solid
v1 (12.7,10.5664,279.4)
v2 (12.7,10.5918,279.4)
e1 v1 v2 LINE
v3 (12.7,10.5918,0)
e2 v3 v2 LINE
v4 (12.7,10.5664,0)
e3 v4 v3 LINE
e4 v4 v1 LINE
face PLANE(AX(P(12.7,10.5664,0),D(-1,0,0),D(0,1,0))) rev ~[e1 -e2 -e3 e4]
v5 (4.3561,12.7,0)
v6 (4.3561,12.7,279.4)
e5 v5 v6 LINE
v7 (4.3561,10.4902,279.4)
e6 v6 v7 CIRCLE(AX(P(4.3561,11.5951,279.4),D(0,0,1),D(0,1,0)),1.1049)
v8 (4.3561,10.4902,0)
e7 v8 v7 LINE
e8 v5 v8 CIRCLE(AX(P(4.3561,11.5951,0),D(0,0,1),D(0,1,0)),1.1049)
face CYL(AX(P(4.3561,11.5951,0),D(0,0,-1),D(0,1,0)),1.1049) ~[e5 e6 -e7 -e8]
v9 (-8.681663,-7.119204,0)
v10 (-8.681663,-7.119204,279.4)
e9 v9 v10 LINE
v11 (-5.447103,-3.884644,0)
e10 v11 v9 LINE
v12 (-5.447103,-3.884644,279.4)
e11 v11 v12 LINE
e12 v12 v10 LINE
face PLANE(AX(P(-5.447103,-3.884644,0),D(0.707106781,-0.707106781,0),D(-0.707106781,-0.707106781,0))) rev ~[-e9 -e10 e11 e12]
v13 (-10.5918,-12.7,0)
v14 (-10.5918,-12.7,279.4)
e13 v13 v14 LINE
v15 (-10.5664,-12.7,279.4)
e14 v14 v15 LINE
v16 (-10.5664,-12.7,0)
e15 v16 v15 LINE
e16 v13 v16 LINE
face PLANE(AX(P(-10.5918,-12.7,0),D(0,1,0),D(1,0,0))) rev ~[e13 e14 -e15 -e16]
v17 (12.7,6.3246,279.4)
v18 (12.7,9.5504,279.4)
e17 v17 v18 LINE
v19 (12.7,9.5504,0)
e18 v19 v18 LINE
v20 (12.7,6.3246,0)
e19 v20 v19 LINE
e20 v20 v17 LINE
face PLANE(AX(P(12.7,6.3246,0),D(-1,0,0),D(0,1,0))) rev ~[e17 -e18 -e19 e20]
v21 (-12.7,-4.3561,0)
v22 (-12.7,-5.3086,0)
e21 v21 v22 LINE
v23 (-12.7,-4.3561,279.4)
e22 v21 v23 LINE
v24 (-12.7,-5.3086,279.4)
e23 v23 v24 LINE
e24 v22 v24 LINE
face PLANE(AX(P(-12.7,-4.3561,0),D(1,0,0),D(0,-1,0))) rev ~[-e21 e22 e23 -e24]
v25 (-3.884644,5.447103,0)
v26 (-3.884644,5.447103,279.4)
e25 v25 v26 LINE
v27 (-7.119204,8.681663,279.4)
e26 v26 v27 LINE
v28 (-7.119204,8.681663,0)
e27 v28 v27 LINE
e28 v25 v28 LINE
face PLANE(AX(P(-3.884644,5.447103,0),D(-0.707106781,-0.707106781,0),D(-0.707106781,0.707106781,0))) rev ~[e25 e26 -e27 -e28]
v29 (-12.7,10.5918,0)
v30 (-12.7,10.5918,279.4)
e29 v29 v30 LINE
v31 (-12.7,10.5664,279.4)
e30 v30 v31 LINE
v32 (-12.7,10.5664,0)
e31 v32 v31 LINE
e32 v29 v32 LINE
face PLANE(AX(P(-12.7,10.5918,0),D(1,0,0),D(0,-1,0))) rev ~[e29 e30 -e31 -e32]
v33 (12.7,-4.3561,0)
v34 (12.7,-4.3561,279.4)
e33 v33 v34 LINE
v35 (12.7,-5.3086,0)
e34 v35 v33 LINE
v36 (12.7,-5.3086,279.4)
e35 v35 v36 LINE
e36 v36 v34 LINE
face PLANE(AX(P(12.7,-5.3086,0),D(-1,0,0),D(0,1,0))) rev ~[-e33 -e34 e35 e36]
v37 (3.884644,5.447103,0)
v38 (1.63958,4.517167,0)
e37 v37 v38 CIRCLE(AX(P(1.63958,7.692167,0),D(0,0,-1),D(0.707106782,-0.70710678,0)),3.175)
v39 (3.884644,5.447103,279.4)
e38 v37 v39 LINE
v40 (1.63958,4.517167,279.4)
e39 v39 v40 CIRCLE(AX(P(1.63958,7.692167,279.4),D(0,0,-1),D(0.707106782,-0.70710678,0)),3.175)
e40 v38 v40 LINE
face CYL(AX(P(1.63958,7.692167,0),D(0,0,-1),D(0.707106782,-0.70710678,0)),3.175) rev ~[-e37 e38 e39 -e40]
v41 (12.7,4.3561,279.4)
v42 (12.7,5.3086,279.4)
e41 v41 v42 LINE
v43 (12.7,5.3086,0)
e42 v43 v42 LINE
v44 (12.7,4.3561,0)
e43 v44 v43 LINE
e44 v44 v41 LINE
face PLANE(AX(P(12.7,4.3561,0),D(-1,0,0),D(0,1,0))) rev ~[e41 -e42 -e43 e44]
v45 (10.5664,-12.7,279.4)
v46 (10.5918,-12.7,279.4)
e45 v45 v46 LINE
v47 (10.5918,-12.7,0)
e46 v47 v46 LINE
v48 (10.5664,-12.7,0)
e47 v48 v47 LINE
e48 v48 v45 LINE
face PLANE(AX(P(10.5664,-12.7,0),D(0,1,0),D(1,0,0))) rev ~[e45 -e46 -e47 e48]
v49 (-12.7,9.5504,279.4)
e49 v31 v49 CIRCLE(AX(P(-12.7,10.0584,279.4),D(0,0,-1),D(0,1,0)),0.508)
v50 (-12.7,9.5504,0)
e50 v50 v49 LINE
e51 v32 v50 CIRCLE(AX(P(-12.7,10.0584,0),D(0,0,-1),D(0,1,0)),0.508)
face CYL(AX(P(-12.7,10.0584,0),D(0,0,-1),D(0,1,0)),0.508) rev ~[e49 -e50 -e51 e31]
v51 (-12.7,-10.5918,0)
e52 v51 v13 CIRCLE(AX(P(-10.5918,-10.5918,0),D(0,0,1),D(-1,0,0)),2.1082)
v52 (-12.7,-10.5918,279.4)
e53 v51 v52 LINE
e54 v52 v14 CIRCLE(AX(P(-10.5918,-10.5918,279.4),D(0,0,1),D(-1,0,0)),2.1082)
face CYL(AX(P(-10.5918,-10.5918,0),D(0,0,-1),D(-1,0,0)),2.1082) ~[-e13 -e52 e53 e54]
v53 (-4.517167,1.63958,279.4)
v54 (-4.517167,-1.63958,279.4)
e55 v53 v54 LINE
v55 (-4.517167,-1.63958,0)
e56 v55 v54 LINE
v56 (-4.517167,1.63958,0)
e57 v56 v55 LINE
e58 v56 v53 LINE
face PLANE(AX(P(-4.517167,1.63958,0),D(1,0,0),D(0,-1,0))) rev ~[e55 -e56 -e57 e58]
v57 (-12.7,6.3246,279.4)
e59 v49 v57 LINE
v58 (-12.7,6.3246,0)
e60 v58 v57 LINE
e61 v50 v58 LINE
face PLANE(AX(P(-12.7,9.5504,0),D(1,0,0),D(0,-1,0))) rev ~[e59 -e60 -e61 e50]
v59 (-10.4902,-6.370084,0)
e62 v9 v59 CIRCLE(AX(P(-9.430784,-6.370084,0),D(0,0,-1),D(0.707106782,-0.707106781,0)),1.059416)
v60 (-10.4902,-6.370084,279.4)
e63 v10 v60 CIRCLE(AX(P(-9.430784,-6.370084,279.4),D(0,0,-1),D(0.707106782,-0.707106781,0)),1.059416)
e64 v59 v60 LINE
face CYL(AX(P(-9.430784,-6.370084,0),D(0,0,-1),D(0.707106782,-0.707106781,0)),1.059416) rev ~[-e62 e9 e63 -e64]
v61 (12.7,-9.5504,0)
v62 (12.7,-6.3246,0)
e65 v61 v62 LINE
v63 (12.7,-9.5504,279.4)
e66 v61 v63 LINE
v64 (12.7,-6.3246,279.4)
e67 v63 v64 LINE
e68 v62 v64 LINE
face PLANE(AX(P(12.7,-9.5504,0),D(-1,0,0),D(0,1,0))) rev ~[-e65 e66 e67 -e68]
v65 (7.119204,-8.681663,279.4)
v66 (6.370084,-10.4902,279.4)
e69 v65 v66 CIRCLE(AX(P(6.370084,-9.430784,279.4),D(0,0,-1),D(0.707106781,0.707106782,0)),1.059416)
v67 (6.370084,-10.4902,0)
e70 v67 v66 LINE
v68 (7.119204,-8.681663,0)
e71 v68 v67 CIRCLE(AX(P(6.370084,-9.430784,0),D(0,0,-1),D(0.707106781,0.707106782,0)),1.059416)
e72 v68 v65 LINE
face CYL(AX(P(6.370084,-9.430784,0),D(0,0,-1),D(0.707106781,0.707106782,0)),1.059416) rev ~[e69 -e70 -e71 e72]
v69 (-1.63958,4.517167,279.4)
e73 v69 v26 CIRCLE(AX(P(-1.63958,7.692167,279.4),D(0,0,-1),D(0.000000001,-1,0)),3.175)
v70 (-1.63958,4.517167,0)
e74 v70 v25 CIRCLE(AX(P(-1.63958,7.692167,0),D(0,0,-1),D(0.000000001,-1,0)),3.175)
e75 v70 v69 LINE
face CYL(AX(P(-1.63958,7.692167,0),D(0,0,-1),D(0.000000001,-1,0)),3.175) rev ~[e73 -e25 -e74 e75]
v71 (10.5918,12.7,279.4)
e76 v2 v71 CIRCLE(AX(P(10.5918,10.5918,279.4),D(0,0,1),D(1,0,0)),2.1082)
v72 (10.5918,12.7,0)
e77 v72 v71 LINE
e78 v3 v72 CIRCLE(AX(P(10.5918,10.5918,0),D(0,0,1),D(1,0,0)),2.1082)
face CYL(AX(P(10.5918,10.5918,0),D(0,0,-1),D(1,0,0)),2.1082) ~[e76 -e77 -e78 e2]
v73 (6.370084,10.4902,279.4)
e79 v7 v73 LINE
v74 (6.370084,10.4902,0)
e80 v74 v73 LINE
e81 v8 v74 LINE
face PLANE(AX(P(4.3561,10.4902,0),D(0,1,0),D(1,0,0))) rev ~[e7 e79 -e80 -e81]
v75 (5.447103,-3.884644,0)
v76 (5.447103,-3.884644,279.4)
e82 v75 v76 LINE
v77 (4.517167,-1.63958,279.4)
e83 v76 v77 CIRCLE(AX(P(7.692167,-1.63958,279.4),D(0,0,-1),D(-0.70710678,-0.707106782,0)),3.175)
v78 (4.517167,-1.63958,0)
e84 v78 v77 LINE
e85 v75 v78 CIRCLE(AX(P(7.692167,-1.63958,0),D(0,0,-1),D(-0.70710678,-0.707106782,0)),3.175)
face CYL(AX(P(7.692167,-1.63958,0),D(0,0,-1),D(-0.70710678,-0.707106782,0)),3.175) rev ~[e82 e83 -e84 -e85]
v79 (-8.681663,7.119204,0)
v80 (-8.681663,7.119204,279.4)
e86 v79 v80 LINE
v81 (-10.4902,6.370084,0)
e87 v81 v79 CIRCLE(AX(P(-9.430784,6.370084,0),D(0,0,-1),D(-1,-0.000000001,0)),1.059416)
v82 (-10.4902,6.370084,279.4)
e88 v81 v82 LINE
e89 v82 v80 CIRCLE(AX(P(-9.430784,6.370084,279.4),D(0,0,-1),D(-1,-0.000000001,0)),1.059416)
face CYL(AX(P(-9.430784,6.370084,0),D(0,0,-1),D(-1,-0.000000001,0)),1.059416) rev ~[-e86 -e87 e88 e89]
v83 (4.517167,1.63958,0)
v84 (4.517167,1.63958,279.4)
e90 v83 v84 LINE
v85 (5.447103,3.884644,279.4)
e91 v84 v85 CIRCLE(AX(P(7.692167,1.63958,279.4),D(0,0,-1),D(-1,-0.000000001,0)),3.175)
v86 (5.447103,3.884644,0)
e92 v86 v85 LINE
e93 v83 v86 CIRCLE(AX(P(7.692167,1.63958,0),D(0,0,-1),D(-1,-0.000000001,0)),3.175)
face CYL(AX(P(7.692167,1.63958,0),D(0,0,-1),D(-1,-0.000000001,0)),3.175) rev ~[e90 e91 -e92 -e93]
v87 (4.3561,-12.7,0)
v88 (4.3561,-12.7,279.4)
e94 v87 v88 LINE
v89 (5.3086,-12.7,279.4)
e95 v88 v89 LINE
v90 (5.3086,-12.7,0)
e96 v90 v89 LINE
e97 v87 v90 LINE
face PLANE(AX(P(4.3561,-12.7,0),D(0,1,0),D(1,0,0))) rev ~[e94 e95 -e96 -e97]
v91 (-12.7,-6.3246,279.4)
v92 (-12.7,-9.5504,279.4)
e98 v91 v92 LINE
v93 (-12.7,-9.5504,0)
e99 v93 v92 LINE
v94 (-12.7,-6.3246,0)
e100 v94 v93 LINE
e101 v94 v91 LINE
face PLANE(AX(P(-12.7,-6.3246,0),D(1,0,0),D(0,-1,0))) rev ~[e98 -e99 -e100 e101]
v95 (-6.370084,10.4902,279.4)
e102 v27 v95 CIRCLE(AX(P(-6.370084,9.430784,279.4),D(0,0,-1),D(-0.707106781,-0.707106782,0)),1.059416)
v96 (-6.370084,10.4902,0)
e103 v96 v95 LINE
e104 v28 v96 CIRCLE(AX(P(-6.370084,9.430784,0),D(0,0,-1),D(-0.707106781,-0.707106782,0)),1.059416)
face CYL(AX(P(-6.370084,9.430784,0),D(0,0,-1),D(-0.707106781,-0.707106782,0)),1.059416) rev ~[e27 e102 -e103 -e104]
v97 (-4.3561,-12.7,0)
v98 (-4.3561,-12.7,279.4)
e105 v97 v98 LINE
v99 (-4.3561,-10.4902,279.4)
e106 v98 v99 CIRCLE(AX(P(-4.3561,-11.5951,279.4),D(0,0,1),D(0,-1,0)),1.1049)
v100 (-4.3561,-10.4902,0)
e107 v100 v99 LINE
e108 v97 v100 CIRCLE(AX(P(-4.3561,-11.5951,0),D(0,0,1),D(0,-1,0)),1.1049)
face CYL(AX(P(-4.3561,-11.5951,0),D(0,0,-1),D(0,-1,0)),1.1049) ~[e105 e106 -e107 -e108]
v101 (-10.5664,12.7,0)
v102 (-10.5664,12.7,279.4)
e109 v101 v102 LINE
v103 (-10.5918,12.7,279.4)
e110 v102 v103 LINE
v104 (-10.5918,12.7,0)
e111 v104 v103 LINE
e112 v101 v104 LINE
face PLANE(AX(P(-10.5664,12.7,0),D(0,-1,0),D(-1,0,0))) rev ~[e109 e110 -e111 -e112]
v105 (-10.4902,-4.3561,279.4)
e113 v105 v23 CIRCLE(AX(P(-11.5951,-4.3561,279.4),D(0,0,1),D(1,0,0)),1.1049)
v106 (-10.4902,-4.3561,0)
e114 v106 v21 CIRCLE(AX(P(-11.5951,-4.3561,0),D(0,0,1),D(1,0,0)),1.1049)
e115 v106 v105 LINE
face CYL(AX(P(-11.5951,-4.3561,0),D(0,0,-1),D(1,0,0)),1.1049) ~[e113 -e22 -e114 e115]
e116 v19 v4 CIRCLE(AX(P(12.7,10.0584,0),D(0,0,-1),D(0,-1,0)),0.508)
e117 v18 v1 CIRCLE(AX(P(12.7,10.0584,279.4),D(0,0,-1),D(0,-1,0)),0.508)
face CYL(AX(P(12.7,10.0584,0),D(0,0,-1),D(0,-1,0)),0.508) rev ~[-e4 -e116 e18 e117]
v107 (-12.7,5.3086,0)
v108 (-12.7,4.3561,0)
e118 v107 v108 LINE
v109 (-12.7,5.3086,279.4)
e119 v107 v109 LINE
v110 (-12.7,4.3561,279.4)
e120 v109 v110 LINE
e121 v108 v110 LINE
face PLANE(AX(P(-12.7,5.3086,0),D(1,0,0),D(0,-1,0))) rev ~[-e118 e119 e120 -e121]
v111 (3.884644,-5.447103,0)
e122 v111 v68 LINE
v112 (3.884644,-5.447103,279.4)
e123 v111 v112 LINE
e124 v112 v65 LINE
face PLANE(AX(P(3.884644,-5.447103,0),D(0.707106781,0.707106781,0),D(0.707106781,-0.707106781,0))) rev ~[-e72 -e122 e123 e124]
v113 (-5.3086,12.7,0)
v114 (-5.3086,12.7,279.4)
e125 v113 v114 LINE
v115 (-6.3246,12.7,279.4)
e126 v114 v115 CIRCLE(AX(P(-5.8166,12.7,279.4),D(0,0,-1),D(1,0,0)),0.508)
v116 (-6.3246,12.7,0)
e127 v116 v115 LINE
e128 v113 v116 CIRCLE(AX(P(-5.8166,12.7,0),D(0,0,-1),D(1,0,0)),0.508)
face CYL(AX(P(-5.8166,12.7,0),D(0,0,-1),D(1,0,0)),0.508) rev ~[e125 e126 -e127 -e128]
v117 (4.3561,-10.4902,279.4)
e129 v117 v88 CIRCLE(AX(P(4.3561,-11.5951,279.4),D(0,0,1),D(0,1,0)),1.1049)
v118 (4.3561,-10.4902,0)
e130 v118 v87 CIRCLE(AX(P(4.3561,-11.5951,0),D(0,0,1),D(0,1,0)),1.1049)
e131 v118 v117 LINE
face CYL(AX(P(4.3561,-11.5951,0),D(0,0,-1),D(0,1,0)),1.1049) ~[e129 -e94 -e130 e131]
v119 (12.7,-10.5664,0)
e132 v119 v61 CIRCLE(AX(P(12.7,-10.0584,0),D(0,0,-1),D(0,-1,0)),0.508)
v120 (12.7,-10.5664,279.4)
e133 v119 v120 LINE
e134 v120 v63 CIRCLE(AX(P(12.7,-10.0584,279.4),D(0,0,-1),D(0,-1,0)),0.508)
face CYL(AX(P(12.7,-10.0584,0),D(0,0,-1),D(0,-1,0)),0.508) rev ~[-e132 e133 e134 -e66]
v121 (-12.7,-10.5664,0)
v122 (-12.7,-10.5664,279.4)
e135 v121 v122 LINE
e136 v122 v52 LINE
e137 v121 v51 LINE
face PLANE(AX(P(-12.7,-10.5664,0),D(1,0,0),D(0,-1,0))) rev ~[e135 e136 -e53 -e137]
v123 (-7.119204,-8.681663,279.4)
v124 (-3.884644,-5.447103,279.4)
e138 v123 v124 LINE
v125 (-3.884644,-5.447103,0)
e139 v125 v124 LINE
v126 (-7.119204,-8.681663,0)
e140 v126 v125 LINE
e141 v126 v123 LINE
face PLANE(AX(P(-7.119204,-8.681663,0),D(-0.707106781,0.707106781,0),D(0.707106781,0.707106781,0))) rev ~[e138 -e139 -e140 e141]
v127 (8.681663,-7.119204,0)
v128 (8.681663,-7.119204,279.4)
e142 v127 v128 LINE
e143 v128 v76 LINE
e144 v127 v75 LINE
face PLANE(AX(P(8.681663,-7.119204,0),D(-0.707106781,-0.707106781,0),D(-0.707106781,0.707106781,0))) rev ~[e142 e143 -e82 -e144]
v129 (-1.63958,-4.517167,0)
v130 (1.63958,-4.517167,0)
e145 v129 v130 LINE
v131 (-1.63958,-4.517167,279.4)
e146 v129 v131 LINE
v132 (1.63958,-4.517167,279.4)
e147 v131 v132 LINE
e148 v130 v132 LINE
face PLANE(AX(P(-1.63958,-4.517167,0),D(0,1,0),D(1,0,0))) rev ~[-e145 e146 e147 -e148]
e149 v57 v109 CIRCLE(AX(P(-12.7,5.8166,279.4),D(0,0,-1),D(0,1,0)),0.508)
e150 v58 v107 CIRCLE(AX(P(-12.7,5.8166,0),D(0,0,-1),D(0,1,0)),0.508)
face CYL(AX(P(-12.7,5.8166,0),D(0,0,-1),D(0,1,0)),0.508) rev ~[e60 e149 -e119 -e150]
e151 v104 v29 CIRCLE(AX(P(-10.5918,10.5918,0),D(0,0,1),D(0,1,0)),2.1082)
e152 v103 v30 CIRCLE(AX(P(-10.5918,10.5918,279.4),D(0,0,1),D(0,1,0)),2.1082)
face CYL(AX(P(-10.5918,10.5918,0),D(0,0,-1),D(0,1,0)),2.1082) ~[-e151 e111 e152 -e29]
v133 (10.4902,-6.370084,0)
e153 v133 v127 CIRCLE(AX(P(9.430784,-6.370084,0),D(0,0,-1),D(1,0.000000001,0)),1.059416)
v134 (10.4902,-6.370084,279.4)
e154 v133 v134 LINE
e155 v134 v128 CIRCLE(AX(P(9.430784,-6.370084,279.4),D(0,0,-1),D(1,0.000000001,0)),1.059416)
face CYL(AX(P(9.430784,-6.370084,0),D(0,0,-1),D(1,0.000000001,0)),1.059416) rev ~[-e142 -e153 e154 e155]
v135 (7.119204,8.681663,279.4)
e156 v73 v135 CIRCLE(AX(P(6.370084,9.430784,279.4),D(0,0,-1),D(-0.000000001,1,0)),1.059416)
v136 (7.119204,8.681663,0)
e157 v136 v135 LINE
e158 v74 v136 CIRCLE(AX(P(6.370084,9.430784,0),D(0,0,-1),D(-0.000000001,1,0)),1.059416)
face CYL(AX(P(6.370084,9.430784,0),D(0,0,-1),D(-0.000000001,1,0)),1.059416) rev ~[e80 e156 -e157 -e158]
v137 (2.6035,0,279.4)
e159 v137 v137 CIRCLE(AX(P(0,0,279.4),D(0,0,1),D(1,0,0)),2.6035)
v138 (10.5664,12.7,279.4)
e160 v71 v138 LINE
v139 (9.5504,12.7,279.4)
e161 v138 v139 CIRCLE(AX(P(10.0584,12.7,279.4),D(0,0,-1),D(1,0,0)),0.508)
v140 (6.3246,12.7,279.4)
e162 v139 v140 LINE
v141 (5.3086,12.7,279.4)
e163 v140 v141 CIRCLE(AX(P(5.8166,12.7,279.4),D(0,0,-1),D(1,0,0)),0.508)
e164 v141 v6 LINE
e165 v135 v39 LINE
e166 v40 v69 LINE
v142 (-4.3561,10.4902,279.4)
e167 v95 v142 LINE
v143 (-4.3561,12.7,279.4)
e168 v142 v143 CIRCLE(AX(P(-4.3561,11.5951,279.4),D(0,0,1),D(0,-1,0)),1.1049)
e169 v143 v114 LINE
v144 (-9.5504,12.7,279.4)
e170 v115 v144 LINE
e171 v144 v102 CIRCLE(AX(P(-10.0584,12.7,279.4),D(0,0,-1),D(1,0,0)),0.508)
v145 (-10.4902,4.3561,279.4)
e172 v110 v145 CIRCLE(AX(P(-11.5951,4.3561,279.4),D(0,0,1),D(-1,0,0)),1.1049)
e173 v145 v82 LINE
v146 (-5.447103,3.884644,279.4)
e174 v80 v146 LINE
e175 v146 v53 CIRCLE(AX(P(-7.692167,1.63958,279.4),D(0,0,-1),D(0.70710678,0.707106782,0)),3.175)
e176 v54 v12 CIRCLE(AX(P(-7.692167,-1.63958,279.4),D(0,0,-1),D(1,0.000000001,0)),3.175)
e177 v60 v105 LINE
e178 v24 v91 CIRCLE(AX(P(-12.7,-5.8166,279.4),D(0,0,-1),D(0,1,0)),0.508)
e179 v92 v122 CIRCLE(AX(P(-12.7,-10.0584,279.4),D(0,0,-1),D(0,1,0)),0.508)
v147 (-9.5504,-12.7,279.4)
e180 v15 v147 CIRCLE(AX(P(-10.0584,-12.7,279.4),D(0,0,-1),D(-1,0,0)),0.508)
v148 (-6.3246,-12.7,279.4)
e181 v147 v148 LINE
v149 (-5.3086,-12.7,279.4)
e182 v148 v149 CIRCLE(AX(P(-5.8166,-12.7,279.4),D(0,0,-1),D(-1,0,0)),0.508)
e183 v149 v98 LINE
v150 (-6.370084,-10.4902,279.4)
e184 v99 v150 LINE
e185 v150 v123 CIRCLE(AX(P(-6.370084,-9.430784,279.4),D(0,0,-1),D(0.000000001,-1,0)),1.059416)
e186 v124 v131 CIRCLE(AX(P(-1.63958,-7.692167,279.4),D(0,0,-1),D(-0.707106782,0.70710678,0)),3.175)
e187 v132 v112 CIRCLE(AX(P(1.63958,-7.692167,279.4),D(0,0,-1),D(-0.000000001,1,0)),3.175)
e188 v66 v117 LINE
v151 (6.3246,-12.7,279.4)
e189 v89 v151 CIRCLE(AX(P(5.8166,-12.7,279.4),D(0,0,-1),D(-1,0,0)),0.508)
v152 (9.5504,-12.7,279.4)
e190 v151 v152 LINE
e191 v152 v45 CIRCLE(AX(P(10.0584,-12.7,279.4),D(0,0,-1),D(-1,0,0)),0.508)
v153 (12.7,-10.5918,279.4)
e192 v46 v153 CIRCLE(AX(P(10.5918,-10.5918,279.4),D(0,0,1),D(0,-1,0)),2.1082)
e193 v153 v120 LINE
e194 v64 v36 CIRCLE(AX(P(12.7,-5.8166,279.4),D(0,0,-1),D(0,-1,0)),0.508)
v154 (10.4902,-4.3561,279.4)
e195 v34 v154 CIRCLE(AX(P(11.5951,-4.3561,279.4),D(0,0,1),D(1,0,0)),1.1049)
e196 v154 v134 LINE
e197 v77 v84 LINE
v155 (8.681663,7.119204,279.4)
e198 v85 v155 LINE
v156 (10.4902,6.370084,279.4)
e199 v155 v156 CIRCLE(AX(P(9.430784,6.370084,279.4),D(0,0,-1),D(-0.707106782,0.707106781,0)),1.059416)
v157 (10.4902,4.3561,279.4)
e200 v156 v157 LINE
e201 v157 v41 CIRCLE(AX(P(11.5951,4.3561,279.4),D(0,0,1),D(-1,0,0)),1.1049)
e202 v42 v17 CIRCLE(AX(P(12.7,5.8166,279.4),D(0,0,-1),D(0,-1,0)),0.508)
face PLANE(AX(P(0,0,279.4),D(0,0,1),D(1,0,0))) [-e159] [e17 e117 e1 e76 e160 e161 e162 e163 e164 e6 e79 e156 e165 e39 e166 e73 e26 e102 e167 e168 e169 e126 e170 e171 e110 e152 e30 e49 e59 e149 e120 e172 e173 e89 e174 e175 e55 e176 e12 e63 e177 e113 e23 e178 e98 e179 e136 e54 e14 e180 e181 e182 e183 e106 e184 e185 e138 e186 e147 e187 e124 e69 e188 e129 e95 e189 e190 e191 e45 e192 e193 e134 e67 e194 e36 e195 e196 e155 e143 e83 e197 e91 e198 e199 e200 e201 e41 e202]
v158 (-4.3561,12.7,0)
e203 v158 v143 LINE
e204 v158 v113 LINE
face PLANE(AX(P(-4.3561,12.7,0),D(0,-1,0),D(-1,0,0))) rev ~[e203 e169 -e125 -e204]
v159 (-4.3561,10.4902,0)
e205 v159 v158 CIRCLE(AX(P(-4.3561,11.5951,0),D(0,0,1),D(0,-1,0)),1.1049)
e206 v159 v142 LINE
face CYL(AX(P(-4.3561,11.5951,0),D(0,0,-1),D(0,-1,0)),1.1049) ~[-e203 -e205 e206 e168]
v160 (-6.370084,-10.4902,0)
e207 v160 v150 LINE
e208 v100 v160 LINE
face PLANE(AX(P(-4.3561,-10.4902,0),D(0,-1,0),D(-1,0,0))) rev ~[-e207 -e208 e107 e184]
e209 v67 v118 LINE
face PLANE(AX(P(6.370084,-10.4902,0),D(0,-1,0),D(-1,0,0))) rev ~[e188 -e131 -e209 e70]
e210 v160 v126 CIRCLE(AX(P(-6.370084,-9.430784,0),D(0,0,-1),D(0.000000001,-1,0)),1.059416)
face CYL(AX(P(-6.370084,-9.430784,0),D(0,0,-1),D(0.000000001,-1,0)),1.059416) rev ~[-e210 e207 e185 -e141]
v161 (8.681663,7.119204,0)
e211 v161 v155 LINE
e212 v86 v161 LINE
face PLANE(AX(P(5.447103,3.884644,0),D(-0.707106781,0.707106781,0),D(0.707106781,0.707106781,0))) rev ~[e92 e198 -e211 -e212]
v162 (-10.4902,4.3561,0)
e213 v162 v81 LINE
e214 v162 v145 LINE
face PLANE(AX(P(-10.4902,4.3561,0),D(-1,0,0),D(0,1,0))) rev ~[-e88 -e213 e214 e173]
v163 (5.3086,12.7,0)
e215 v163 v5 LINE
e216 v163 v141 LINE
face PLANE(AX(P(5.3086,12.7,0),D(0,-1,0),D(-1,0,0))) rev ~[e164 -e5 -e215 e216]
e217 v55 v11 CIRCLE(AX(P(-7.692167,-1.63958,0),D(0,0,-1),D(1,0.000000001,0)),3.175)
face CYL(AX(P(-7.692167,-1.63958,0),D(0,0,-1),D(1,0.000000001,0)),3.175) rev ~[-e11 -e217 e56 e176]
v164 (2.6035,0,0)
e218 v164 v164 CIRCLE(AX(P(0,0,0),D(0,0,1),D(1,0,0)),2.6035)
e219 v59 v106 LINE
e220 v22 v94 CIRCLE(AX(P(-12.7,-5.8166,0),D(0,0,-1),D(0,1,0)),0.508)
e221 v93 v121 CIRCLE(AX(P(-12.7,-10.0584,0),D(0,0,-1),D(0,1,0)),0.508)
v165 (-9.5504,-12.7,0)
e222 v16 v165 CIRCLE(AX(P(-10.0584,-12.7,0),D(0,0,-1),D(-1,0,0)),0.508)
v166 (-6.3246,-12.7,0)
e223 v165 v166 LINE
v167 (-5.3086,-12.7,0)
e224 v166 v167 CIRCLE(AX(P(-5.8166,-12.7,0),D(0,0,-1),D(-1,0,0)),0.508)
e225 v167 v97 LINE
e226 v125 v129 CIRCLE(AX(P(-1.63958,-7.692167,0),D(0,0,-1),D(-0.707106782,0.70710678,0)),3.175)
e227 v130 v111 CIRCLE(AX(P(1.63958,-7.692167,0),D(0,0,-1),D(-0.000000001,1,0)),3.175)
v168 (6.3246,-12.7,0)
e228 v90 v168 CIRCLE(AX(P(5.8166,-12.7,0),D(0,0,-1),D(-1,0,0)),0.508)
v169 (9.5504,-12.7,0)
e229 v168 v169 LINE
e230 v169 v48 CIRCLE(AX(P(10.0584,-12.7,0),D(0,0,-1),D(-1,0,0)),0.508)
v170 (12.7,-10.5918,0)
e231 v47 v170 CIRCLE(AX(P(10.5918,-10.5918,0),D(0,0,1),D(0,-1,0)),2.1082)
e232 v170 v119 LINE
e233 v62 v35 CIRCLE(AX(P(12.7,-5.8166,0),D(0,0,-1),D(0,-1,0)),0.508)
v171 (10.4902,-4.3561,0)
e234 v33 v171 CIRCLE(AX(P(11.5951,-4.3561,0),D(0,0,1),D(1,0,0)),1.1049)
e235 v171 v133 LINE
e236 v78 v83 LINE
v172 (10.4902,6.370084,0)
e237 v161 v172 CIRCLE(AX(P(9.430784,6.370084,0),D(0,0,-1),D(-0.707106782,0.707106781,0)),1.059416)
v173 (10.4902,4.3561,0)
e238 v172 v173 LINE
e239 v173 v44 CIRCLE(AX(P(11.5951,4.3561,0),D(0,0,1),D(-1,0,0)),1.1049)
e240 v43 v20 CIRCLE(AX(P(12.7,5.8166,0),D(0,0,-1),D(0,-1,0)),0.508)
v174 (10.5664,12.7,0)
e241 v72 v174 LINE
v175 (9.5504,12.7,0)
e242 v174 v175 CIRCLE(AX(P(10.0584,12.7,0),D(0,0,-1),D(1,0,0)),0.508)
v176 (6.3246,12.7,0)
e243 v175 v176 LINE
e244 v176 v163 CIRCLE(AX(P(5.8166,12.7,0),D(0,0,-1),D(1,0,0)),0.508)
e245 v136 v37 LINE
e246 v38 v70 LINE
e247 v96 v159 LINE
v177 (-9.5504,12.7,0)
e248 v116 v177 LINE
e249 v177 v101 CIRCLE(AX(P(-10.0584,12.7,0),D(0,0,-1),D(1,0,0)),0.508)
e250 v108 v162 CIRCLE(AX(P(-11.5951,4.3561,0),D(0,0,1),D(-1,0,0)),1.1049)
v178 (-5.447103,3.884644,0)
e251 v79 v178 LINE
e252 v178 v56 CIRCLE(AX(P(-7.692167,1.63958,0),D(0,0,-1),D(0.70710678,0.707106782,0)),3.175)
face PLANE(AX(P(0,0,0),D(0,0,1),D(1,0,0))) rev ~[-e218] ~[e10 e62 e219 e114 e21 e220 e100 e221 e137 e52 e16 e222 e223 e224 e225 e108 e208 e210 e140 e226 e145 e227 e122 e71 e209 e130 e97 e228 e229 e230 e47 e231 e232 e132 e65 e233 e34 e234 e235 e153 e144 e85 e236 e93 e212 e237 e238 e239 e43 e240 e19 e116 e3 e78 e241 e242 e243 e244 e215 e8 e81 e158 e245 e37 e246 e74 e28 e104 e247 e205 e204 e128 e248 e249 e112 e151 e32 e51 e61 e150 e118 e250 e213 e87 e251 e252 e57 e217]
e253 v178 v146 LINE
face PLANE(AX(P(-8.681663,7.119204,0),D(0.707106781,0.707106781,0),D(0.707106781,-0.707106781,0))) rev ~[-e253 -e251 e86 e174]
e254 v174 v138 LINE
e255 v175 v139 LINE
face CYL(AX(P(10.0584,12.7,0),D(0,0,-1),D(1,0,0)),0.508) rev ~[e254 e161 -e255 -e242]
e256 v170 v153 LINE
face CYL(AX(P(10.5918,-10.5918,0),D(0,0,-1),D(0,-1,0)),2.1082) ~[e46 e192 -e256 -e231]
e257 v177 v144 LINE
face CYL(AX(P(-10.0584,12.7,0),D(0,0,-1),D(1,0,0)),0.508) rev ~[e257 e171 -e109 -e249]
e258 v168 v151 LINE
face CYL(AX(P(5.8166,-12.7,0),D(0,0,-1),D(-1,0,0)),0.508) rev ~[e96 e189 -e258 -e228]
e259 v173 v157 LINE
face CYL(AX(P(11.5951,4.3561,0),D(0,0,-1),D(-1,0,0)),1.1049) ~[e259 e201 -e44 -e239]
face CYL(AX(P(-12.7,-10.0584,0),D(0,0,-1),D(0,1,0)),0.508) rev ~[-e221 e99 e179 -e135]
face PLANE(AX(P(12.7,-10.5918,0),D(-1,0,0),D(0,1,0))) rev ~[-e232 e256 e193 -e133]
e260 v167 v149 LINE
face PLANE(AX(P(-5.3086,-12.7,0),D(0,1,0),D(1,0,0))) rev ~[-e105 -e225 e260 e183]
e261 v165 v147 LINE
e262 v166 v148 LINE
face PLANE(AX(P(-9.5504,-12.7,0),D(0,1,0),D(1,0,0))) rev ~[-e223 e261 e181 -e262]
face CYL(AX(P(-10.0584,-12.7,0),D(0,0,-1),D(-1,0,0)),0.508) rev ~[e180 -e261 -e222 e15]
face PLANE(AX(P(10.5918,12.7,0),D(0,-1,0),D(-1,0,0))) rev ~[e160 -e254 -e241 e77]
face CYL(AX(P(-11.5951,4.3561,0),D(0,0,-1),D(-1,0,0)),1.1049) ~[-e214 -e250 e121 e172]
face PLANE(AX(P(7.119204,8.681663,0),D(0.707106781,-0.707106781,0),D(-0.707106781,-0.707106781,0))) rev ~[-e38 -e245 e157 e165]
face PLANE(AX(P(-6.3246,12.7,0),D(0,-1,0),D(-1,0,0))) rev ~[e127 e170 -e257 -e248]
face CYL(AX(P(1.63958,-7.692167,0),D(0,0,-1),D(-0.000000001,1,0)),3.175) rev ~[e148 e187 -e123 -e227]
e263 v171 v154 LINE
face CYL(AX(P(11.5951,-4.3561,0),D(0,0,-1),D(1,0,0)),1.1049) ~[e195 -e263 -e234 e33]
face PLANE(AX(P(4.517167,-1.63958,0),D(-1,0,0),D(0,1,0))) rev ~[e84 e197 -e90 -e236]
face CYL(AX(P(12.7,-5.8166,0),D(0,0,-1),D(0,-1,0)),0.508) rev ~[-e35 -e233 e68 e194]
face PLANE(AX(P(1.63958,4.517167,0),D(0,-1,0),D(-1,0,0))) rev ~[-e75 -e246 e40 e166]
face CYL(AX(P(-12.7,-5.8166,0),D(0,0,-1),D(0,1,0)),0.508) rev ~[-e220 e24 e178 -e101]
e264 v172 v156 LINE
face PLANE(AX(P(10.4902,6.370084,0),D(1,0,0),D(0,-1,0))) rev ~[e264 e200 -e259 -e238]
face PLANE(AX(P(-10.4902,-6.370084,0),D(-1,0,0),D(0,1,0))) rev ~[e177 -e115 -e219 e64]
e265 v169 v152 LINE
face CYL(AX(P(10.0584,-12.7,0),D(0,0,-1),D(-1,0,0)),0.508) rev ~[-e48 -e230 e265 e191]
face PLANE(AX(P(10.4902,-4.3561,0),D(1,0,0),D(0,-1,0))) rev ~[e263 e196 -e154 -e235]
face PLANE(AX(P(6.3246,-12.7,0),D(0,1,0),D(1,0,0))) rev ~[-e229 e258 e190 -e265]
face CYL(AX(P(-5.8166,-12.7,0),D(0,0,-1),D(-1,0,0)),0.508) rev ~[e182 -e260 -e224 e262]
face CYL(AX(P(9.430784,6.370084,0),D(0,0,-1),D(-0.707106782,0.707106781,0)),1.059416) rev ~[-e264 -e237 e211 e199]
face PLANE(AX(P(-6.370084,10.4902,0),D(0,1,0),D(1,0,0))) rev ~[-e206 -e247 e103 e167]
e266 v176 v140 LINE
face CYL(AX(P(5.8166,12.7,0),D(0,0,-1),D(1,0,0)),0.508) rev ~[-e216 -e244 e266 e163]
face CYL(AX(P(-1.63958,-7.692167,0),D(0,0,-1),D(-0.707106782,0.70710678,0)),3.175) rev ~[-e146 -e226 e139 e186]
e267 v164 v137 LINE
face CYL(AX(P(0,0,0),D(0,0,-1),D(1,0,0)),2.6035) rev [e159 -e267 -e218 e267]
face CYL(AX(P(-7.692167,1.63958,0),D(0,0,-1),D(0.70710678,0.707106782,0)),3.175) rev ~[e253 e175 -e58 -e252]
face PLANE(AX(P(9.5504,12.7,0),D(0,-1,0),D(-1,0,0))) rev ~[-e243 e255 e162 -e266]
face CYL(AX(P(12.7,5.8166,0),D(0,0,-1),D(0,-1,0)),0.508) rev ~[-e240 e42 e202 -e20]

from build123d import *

# Parameters (mm, degrees)
SKETCH1_R           = 2.6035
BOSS_EXTRUDE1_DEPTH = 279.4


with BuildPart() as part:
    # Sketch1 → Boss-Extrude1 (new body)
    with BuildSketch(Plane.XY):
        with BuildLine():
            Line((10.5918, 12.7), (10.5664, 12.7))
            ThreePointArc((10.5664, 12.7), (10.0584, 12.192), (9.5504, 12.7))
            Line((9.5504, 12.7), (6.3246, 12.7))
            ThreePointArc((6.3246, 12.7), (5.8166, 12.192), (5.3086, 12.7))
            Line((5.3086, 12.7), (4.3561, 12.7))
            ThreePointArc((4.3561, 12.7), (3.2512, 11.5951), (4.3561, 10.4902))
            Line((4.3561, 10.4902), (6.370083786, 10.4902))
            ThreePointArc((6.370083786, 10.4902), (7.348856743, 9.836204819), (7.119204175, 8.681663397))
            Line((7.119204175, 8.681663397), (3.88464389, 5.447103113))
            ThreePointArc((3.88464389, 5.447103113), (2.854599758, 4.758849627), (1.63957986, 4.517167143))
            Line((1.63957986, 4.517167143), (-1.63957986, 4.517167143))
            ThreePointArc((-1.63957986, 4.517167143), (-2.854599758, 4.758849627), (-3.88464389, 5.447103113))
            Line((-3.88464389, 5.447103113), (-7.119204175, 8.681663397))
            ThreePointArc((-7.119204175, 8.681663397), (-7.348856743, 9.836204819), (-6.370083786, 10.4902))
            Line((-6.370083786, 10.4902), (-4.3561, 10.4902))
            ThreePointArc((-4.3561, 10.4902), (-3.2512, 11.5951), (-4.3561, 12.7))
            Line((-4.3561, 12.7), (-5.3086, 12.7))
            ThreePointArc((-5.3086, 12.7), (-5.8166, 12.192), (-6.3246, 12.7))
            Line((-6.3246, 12.7), (-9.5504, 12.7))
            ThreePointArc((-9.5504, 12.7), (-10.0584, 12.192), (-10.5664, 12.7))
            Line((-10.5664, 12.7), (-10.5918, 12.7))
            ThreePointArc((-10.5918, 12.7), (-12.082522516, 12.082522516), (-12.7, 10.5918))
            Line((-12.7, 10.5918), (-12.7, 10.5664))
            ThreePointArc((-12.7, 10.5664), (-12.192, 10.0584), (-12.7, 9.5504))
            Line((-12.7, 9.5504), (-12.7, 6.3246))
            ThreePointArc((-12.7, 6.3246), (-12.192, 5.8166), (-12.7, 5.3086))
            Line((-12.7, 5.3086), (-12.7, 4.3561))
            ThreePointArc((-12.7, 4.3561), (-11.5951, 3.2512), (-10.4902, 4.3561))
            Line((-10.4902, 4.3561), (-10.4902, 6.370083786))
            ThreePointArc((-10.4902, 6.370083786), (-9.836204819, 7.348856743), (-8.681663397, 7.119204175))
            Line((-8.681663397, 7.119204175), (-5.447103113, 3.88464389))
            ThreePointArc((-5.447103113, 3.88464389), (-4.758849627, 2.854599758), (-4.517167143, 1.63957986))
            Line((-4.517167143, 1.63957986), (-4.517167143, -1.63957986))
            ThreePointArc((-4.517167143, -1.63957986), (-4.758849627, -2.854599758), (-5.447103113, -3.88464389))
            Line((-5.447103113, -3.88464389), (-8.681663397, -7.119204175))
            ThreePointArc((-8.681663397, -7.119204175), (-9.836204819, -7.348856743), (-10.4902, -6.370083786))
            Line((-10.4902, -6.370083786), (-10.4902, -4.3561))
            ThreePointArc((-10.4902, -4.3561), (-11.5951, -3.2512), (-12.7, -4.3561))
            Line((-12.7, -4.3561), (-12.7, -5.3086))
            ThreePointArc((-12.7, -5.3086), (-12.192, -5.8166), (-12.7, -6.3246))
            Line((-12.7, -6.3246), (-12.7, -9.5504))
            ThreePointArc((-12.7, -9.5504), (-12.192, -10.0584), (-12.7, -10.5664))
            Line((-12.7, -10.5664), (-12.7, -10.5918))
            ThreePointArc((-12.7, -10.5918), (-12.082522516, -12.082522516), (-10.5918, -12.7))
            Line((-10.5918, -12.7), (-10.5664, -12.7))
            ThreePointArc((-10.5664, -12.7), (-10.0584, -12.192), (-9.5504, -12.7))
            Line((-9.5504, -12.7), (-6.3246, -12.7))
            ThreePointArc((-6.3246, -12.7), (-5.8166, -12.192), (-5.3086, -12.7))
            Line((-5.3086, -12.7), (-4.3561, -12.7))
            ThreePointArc((-4.3561, -12.7), (-3.2512, -11.5951), (-4.3561, -10.4902))
            Line((-4.3561, -10.4902), (-6.370083786, -10.4902))
            ThreePointArc((-6.370083786, -10.4902), (-7.348856743, -9.836204819), (-7.119204175, -8.681663397))
            Line((-7.119204175, -8.681663397), (-3.88464389, -5.447103113))
            ThreePointArc((-3.88464389, -5.447103113), (-2.854599758, -4.758849627), (-1.63957986, -4.517167143))
            Line((-1.63957986, -4.517167143), (1.63957986, -4.517167143))
            ThreePointArc((1.63957986, -4.517167143), (2.854599758, -4.758849627), (3.88464389, -5.447103113))
            Line((3.88464389, -5.447103113), (7.119204175, -8.681663397))
            ThreePointArc((7.119204175, -8.681663397), (7.348856743, -9.836204819), (6.370083786, -10.4902))
            Line((6.370083786, -10.4902), (4.3561, -10.4902))
            ThreePointArc((4.3561, -10.4902), (3.2512, -11.5951), (4.3561, -12.7))
            Line((4.3561, -12.7), (5.3086, -12.7))
            ThreePointArc((5.3086, -12.7), (5.8166, -12.192), (6.3246, -12.7))
            Line((6.3246, -12.7), (9.5504, -12.7))
            ThreePointArc((9.5504, -12.7), (10.0584, -12.192), (10.5664, -12.7))
            Line((10.5664, -12.7), (10.5918, -12.7))
            ThreePointArc((10.5918, -12.7), (12.082522516, -12.082522516), (12.7, -10.5918))
            Line((12.7, -10.5918), (12.7, -10.5664))
            ThreePointArc((12.7, -10.5664), (12.192, -10.0584), (12.7, -9.5504))
            Line((12.7, -9.5504), (12.7, -6.3246))
            ThreePointArc((12.7, -6.3246), (12.192, -5.8166), (12.7, -5.3086))
            Line((12.7, -5.3086), (12.7, -4.3561))
            ThreePointArc((12.7, -4.3561), (11.5951, -3.2512), (10.4902, -4.3561))
            Line((10.4902, -4.3561), (10.4902, -6.370083786))
            ThreePointArc((10.4902, -6.370083786), (9.836204819, -7.348856743), (8.681663397, -7.119204175))
            Line((8.681663397, -7.119204175), (5.447103113, -3.88464389))
            ThreePointArc((5.447103113, -3.88464389), (4.758849627, -2.854599758), (4.517167143, -1.63957986))
            Line((4.517167143, -1.63957986), (4.517167143, 1.63957986))
            ThreePointArc((4.517167143, 1.63957986), (4.758849627, 2.854599758), (5.447103113, 3.88464389))
            Line((5.447103113, 3.88464389), (8.681663397, 7.119204175))
            ThreePointArc((8.681663397, 7.119204175), (9.836204819, 7.348856743), (10.4902, 6.370083786))
            Line((10.4902, 6.370083786), (10.4902, 4.3561))
            ThreePointArc((10.4902, 4.3561), (11.5951, 3.2512), (12.7, 4.3561))
            Line((12.7, 4.3561), (12.7, 5.3086))
            ThreePointArc((12.7, 5.3086), (12.192, 5.8166), (12.7, 6.3246))
            Line((12.7, 6.3246), (12.7, 9.5504))
            ThreePointArc((12.7, 9.5504), (12.192, 10.0584), (12.7, 10.5664))
            Line((12.7, 10.5664), (12.7, 10.5918))
            ThreePointArc((12.7, 10.5918), (12.082522516, 12.082522516), (10.5918, 12.7))
        make_face()
        Circle(SKETCH1_R, mode=Mode.SUBTRACT)
    extrude(amount=BOSS_EXTRUDE1_DEPTH)


solid = part.part
